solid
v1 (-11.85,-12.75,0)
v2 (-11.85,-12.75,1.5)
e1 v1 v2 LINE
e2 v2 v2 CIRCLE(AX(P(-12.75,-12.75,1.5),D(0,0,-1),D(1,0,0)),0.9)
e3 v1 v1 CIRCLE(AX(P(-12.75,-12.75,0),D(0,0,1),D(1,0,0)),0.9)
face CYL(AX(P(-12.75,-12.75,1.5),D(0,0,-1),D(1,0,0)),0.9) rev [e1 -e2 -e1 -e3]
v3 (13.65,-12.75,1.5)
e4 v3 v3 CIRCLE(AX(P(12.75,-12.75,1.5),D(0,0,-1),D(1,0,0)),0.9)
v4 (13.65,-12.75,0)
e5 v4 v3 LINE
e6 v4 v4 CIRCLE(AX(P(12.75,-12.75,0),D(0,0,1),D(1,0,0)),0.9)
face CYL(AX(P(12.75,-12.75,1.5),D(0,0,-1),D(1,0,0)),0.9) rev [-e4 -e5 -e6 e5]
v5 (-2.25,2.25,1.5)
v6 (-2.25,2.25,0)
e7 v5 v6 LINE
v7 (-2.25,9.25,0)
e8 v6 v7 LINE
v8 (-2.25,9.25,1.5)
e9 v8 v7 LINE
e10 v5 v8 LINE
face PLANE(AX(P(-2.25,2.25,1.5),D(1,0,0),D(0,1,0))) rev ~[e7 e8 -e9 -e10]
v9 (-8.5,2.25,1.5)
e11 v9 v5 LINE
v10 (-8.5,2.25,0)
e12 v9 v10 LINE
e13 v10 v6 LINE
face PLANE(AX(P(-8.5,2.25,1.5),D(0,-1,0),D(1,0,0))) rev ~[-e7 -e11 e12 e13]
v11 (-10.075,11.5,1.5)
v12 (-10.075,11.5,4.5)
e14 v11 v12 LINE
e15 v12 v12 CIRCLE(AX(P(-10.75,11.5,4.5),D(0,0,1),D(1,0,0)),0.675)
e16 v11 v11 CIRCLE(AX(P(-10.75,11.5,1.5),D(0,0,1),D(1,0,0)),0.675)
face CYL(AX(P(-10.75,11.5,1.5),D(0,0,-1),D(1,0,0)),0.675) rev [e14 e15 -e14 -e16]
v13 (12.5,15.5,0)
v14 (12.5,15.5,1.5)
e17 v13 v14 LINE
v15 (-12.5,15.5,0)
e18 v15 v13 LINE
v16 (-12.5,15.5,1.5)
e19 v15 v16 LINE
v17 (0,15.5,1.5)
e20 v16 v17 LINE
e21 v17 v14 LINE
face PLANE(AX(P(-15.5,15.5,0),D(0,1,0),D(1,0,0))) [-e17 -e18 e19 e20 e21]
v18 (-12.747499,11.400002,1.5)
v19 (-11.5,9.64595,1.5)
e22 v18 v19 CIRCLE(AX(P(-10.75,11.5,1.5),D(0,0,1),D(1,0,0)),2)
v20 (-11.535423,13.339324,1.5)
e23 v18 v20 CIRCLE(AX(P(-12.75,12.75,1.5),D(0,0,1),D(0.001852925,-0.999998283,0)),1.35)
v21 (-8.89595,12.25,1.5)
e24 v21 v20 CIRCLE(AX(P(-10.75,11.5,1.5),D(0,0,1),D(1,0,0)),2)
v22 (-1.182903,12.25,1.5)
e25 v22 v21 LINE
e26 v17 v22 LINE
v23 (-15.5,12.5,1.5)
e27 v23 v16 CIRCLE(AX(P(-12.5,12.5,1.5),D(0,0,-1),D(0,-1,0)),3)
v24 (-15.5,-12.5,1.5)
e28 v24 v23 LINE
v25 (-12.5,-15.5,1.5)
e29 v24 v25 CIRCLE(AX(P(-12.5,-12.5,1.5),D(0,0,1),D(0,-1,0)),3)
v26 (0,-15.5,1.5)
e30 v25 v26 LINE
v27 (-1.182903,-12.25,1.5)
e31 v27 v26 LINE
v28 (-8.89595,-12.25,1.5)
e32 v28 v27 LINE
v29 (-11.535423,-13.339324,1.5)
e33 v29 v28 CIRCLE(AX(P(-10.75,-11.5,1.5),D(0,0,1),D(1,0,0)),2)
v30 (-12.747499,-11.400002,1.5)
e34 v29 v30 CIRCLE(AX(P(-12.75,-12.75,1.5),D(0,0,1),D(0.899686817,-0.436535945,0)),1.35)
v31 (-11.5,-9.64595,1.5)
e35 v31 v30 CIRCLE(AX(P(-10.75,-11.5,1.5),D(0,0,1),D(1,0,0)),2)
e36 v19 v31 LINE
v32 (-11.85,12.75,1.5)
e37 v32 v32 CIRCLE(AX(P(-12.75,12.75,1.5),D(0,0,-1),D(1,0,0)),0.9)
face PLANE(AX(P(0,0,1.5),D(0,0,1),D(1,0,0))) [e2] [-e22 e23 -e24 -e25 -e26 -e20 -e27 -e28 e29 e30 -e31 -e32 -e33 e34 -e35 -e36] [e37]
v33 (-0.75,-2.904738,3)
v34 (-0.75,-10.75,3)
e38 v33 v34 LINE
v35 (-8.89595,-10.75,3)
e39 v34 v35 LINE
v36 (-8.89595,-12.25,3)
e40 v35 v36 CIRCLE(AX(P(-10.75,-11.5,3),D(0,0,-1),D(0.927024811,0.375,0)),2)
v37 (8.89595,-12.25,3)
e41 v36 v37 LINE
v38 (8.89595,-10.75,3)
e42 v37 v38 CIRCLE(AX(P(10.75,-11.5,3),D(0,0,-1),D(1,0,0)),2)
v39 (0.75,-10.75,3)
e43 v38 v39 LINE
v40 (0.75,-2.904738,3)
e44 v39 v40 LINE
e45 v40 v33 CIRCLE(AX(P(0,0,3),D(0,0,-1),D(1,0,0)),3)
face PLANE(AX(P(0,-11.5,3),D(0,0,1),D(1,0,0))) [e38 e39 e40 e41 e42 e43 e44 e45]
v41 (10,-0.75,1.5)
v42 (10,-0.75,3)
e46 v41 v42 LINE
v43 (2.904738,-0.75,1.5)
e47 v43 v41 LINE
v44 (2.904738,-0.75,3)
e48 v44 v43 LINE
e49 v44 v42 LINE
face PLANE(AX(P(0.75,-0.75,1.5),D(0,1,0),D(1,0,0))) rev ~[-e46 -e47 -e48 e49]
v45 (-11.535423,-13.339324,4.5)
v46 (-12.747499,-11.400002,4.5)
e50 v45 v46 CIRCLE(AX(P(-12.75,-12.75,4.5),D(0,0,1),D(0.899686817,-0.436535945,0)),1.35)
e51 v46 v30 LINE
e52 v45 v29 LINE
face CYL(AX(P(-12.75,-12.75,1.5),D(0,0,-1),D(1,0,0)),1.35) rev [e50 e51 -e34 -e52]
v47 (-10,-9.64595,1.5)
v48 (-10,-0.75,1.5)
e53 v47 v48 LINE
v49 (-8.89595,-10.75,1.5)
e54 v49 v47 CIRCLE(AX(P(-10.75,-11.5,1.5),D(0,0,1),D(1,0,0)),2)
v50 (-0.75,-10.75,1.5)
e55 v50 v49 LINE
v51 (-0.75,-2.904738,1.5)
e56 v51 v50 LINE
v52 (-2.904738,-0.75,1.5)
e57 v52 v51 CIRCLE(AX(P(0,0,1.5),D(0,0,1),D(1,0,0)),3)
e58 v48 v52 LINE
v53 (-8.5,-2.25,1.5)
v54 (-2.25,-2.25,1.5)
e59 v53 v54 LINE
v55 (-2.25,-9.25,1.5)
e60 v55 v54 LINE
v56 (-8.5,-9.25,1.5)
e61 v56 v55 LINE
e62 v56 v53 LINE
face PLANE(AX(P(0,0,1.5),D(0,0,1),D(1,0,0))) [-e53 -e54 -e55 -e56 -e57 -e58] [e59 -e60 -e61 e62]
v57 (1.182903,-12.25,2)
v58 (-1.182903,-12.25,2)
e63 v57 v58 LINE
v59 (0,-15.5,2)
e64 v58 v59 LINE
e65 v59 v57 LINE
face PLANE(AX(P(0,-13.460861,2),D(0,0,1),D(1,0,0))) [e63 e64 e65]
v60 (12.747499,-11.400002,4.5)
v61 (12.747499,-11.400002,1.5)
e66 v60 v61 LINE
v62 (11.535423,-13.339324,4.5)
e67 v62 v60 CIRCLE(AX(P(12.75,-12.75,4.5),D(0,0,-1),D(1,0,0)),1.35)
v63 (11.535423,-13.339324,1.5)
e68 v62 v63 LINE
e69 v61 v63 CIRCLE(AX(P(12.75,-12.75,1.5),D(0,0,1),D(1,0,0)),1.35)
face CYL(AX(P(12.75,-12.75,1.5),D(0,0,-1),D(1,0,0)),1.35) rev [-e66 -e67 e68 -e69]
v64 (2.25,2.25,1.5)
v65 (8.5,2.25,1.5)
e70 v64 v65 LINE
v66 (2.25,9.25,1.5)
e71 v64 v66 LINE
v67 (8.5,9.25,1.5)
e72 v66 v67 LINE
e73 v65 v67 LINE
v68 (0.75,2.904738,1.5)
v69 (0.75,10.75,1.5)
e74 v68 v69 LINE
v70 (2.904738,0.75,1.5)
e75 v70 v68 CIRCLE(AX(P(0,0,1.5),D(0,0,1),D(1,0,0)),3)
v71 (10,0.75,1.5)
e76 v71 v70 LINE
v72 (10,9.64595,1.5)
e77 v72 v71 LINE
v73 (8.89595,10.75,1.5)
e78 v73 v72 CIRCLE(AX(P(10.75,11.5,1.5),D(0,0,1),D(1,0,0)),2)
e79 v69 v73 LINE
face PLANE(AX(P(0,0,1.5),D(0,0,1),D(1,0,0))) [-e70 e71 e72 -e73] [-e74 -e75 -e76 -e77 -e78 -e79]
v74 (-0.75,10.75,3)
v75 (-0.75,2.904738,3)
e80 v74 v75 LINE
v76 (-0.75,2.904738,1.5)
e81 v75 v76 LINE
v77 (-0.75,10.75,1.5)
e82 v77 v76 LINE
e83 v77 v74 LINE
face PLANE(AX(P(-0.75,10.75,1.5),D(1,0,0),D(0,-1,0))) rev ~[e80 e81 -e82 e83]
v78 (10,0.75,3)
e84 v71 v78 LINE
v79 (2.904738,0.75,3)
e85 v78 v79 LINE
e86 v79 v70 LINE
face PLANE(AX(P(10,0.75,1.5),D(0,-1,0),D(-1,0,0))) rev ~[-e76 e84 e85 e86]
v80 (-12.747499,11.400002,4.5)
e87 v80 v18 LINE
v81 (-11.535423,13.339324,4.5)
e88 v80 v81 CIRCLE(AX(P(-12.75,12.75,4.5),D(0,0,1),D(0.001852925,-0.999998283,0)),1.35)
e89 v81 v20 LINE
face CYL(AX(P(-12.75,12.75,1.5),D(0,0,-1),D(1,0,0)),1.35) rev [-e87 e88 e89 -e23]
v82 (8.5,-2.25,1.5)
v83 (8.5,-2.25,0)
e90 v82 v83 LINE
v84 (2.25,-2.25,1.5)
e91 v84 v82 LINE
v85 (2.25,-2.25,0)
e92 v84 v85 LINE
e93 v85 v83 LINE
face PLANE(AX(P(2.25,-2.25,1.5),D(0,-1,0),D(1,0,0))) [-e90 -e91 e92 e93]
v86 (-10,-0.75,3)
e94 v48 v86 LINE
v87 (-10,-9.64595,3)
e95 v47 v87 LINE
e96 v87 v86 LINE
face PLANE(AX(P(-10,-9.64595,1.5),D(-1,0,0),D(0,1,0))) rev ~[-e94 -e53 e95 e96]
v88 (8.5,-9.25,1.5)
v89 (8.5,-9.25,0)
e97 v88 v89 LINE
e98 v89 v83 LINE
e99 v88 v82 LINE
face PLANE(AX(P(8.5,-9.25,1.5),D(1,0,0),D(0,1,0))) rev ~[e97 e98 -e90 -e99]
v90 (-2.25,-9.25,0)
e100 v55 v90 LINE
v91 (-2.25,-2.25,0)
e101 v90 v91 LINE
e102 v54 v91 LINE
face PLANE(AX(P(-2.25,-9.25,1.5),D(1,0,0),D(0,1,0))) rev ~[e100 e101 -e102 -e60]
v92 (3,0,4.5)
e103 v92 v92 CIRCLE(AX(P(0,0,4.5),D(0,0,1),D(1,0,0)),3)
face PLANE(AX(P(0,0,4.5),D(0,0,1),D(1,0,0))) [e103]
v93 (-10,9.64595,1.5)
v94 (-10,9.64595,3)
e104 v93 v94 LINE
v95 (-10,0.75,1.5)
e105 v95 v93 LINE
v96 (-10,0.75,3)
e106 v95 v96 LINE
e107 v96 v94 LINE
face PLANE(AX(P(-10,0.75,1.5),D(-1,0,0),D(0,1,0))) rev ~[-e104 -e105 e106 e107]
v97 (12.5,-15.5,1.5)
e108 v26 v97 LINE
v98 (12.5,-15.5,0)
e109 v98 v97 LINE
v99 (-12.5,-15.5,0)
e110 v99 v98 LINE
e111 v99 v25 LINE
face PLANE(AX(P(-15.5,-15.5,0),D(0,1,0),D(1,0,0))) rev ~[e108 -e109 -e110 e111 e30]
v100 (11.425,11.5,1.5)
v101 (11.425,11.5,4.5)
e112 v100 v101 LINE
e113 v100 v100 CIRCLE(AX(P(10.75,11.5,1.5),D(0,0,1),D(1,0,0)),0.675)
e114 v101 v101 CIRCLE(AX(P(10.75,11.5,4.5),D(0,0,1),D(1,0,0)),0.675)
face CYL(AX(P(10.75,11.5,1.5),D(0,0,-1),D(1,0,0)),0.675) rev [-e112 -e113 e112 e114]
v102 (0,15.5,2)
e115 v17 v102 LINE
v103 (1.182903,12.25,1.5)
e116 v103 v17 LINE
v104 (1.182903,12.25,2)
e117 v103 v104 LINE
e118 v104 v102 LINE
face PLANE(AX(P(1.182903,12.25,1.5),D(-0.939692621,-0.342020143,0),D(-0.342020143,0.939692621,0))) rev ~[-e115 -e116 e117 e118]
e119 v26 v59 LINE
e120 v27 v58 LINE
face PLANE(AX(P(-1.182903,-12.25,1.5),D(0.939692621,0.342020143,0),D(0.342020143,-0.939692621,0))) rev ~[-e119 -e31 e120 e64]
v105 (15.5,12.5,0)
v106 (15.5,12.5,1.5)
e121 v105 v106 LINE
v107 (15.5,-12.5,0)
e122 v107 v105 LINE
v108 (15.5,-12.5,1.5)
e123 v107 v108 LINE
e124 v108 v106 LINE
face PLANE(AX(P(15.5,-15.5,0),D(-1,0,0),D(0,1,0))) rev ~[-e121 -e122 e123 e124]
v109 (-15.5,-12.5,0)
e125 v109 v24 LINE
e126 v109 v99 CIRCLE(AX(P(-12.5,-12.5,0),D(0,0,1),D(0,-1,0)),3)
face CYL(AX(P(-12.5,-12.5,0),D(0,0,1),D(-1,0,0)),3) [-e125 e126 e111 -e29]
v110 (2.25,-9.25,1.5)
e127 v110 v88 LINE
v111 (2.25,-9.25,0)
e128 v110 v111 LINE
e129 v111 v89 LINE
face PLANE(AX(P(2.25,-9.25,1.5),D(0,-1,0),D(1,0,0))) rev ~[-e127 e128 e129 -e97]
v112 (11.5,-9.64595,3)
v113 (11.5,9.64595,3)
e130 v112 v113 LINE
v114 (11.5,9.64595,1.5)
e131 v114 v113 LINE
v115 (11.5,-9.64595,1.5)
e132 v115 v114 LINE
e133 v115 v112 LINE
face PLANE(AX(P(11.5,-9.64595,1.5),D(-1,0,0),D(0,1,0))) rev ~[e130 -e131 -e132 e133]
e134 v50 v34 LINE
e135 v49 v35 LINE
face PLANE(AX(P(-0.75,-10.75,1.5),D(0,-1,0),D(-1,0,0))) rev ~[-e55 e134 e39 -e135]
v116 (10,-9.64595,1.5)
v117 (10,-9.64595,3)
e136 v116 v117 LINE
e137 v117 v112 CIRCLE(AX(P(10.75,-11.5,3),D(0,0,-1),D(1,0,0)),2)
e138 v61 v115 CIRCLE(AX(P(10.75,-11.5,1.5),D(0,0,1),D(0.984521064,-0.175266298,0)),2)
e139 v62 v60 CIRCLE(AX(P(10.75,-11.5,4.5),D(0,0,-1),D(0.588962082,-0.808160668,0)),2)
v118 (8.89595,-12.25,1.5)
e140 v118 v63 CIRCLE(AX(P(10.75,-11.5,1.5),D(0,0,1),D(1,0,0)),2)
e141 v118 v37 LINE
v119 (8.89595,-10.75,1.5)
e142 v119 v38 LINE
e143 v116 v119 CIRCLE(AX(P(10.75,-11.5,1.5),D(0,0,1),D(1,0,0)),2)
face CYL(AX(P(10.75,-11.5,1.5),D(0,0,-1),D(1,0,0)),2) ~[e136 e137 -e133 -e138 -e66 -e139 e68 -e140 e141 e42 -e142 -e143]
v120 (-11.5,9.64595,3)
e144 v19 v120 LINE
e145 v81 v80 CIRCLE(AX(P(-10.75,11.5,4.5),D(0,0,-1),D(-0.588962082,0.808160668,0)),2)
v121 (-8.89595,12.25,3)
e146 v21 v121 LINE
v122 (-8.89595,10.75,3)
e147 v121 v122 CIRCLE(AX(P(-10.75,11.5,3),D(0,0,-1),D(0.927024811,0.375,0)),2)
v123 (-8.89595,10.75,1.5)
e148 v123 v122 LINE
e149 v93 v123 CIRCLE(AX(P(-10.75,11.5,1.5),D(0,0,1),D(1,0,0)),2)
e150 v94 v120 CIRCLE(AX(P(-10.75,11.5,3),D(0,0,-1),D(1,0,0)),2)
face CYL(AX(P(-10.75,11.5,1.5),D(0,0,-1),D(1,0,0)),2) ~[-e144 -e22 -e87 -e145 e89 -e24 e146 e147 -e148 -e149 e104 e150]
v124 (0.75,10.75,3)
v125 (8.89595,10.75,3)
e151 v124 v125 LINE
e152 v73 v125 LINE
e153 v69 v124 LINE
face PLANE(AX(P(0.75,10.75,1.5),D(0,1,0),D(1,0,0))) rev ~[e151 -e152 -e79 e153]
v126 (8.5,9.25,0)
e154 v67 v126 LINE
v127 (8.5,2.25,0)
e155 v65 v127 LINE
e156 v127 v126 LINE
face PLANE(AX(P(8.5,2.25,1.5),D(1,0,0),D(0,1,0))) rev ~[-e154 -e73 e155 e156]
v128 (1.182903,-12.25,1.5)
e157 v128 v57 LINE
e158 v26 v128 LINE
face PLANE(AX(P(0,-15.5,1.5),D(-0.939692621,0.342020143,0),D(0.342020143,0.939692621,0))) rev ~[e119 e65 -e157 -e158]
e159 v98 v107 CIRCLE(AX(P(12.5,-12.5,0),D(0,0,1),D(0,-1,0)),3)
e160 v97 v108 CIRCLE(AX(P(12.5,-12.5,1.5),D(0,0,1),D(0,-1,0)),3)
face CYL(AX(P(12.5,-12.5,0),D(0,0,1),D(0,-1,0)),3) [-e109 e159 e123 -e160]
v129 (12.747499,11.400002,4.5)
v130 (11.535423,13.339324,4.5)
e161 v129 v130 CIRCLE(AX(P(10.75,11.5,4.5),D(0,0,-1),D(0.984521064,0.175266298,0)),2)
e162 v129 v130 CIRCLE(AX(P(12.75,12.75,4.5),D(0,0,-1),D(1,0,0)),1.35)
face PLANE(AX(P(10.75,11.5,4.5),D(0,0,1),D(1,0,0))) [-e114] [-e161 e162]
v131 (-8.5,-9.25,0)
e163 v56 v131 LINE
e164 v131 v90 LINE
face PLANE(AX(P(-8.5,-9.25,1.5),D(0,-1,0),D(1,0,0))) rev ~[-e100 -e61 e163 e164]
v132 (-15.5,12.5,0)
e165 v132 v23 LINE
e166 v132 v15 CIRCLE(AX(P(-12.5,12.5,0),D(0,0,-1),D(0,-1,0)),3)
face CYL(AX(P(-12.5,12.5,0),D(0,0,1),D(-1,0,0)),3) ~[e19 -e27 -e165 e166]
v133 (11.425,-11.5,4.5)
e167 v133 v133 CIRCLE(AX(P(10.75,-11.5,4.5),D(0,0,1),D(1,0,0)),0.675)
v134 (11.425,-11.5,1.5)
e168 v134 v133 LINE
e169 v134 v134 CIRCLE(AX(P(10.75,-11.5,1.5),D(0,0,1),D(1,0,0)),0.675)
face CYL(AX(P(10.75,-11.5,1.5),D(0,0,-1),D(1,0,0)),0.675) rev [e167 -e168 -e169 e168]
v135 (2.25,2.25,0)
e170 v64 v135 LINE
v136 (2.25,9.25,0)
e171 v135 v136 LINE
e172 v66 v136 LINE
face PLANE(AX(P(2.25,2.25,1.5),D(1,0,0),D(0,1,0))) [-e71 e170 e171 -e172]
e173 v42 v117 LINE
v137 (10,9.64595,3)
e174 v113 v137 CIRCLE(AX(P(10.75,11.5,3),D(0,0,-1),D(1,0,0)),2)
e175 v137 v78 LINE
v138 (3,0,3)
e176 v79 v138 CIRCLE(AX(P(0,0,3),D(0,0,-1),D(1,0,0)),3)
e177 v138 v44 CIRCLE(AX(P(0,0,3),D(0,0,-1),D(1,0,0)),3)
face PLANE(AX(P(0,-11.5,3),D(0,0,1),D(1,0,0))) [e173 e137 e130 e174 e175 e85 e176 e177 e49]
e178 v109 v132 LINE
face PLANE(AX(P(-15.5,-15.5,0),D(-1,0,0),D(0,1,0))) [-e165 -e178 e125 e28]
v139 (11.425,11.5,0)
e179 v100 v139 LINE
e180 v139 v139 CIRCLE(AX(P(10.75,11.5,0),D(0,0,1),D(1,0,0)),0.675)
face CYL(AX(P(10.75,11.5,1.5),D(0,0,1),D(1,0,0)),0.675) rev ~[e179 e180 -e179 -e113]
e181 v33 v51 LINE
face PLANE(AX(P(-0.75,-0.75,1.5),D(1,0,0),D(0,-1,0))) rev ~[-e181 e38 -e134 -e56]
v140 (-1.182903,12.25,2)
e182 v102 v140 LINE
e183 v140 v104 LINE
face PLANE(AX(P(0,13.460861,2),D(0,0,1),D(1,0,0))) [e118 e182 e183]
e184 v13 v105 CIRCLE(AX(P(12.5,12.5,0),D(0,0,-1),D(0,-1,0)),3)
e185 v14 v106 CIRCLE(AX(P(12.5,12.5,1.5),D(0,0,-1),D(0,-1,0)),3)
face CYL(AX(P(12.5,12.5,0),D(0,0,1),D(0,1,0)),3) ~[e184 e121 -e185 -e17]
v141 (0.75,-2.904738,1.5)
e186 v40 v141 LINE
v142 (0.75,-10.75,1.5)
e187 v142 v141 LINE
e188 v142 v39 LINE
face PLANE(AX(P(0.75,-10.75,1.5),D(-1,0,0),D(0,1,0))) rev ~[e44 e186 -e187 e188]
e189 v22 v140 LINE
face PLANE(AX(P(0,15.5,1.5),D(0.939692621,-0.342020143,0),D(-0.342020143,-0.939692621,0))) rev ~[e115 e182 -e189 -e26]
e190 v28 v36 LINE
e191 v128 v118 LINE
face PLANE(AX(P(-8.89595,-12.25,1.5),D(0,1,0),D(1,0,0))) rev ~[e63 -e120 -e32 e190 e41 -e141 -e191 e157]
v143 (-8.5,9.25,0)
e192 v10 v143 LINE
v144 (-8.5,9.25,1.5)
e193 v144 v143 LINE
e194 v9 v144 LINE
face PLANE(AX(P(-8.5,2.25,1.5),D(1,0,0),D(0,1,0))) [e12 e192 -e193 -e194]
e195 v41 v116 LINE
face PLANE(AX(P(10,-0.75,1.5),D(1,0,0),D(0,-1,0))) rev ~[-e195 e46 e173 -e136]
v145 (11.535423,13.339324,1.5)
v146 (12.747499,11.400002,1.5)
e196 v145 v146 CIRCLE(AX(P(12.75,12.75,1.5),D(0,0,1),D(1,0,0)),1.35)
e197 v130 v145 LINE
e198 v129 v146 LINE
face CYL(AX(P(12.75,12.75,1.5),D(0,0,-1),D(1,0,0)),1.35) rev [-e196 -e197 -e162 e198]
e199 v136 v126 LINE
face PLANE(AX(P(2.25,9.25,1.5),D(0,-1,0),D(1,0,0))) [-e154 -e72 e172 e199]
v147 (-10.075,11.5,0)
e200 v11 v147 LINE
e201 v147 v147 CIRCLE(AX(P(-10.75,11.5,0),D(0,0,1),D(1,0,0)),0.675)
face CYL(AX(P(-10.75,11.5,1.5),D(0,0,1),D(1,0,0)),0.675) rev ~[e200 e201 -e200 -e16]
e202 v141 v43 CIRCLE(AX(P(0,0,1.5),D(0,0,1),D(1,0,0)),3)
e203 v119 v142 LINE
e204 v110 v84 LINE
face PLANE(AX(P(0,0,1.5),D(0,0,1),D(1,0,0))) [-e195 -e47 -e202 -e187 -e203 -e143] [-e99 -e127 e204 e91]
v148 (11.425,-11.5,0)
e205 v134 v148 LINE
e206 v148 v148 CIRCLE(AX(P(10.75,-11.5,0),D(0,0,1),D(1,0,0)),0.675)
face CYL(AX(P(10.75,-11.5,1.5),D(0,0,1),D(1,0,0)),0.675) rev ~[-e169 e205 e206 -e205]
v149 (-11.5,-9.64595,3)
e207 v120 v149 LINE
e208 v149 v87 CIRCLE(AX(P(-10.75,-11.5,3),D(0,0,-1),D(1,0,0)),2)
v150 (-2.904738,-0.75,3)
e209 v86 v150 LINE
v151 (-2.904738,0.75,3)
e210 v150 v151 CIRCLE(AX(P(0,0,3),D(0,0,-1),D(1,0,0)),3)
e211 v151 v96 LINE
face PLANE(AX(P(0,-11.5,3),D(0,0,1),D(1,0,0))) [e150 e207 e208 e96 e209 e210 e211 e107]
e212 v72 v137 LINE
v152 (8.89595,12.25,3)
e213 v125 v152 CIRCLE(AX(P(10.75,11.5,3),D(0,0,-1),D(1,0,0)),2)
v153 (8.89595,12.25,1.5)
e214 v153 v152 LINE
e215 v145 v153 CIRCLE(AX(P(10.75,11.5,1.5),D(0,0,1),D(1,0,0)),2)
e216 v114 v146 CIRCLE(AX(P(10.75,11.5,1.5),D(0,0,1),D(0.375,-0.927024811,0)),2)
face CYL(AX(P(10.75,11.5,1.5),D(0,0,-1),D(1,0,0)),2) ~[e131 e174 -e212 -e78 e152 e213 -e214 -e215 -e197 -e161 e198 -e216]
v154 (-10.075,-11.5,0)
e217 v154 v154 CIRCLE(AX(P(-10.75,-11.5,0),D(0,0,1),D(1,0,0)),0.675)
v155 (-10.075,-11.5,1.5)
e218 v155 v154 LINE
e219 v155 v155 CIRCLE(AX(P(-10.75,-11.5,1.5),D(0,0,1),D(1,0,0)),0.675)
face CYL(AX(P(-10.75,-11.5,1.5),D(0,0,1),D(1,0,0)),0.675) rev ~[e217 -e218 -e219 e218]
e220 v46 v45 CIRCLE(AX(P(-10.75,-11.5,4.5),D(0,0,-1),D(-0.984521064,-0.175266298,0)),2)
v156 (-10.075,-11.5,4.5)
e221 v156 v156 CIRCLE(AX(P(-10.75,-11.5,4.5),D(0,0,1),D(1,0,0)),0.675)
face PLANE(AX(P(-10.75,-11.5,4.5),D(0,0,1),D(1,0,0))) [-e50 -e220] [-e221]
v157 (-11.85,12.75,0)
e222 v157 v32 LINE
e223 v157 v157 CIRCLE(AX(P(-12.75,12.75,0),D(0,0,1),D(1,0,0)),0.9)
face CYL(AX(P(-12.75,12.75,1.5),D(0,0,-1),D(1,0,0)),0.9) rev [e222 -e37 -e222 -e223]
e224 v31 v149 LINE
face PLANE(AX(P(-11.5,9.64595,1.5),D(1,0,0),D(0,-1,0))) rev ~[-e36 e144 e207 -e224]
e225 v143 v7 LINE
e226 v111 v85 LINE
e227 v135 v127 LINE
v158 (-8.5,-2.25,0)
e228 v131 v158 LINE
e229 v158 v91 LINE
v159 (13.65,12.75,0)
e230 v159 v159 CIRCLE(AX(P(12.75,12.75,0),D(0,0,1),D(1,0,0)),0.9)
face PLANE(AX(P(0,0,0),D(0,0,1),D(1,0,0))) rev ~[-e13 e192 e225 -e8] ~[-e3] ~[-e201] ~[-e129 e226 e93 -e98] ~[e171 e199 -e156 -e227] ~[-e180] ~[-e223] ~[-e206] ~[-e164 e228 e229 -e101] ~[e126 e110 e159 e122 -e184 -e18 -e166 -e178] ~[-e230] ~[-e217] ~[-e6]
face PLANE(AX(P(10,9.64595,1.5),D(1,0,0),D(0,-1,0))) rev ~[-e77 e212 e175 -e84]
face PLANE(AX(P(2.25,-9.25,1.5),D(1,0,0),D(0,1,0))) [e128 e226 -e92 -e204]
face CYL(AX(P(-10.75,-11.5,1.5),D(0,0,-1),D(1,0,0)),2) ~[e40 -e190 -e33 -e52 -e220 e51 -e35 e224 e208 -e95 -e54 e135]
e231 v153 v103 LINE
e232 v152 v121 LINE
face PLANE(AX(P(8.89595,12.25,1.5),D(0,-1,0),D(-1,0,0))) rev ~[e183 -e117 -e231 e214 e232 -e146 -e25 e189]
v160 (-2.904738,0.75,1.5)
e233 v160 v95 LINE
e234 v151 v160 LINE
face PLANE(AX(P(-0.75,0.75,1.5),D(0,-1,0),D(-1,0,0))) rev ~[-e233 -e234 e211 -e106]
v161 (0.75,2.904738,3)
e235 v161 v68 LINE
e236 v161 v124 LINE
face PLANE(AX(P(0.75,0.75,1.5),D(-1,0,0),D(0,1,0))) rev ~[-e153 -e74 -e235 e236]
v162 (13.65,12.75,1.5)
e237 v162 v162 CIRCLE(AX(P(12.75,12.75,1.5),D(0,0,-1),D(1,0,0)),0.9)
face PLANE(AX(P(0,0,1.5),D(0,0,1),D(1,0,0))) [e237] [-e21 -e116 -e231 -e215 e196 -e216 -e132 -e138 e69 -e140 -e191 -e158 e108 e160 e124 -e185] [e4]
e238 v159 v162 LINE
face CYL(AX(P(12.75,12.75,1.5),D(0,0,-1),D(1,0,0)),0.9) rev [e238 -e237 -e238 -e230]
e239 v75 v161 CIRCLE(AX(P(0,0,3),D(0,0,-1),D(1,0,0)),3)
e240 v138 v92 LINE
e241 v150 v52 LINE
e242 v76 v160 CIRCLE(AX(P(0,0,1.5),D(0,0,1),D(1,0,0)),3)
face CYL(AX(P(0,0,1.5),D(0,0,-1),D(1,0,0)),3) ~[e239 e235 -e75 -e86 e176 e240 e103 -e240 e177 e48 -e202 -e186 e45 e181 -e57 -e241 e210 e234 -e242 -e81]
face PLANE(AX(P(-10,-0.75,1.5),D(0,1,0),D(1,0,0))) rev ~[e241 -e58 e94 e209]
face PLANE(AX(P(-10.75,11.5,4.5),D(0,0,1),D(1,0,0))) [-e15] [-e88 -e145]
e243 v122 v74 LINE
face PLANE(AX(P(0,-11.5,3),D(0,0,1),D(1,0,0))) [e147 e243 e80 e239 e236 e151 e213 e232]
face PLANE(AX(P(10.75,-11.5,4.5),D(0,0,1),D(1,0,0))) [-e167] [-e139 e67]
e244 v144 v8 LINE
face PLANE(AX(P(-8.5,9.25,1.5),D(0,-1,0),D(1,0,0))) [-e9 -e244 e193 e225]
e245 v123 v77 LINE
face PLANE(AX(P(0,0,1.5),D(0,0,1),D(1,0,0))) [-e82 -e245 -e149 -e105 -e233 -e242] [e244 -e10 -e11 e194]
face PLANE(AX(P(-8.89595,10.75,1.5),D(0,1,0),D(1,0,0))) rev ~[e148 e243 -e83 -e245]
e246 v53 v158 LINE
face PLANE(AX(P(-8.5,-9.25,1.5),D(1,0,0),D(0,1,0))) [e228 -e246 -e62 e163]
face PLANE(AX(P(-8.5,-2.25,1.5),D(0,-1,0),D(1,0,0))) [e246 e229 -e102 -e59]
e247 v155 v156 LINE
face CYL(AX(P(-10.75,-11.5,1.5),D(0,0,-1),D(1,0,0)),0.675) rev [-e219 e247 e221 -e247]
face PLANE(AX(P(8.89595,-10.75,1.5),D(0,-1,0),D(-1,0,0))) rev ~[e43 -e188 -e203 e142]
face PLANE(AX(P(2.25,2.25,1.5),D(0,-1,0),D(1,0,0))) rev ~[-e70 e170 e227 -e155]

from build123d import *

# Parameters (mm, degrees)
F0_W      = 31
F0_H      = 31
F0_R      = 0.9
F1_DEPTH  = 1.5
F2_R      = 2
F2_R_2    = 0.675
F3_DEPTH  = 3
F4_R      = 3
F6_DEPTH  = 1.5
F7_W      = 6.25
F7_H      = 7
F8_DEPTH  = 25
F9_R      = 3
F10_DEPTH = 3
F11_DEPTH = 25
F12_R     = 1.35
F13_DEPTH = 25
F14_DEPTH = 25
F16_DEPTH = 0.5


with BuildPart() as f1:
    # F0 (on Top) → F1 (new body)
    with BuildSketch(Plane.XY):
        Rectangle(F0_W, F0_H)
        with Locations((-12.75, -12.75)):
            Circle(F0_R, mode=Mode.SUBTRACT)
        with Locations((12.75, -12.75)):
            Circle(F0_R, mode=Mode.SUBTRACT)
        with Locations((-12.75, 12.75)):
            Circle(F0_R, mode=Mode.SUBTRACT)
        with Locations((12.75, 12.75)):
            Circle(F0_R, mode=Mode.SUBTRACT)
    extrude(amount=F1_DEPTH)

    # F2 (on face) → F3 (join)
    with BuildSketch(Plane.XY.offset(1.5)):
        with Locations((-10.75, 11.5)):
            Circle(F2_R)
        with Locations((-10.75, 11.5)):
            Circle(F2_R_2, mode=Mode.SUBTRACT)
        with Locations((10.75, 11.5)):
            Circle(F2_R)
        with Locations((10.75, 11.5)):
            Circle(F2_R_2, mode=Mode.SUBTRACT)
        with Locations((10.75, -11.5)):
            Circle(F2_R)
        with Locations((10.75, -11.5)):
            Circle(F2_R_2, mode=Mode.SUBTRACT)
        with Locations((-10.75, -11.5)):
            Circle(F2_R)
        with Locations((-10.75, -11.5)):
            Circle(F2_R_2, mode=Mode.SUBTRACT)
    extrude(amount=F3_DEPTH)

    # F4
    f4_edges = [f1.edges().sort_by_distance(p)[0] for p in [
        (-15.5, 15.5, 0.75),
        (15.5, 15.5, 0.75),
        (15.5, -15.5, 0.75),
        (-15.5, -15.5, 0.75),
    ]]
    fillet(f4_edges, radius=F4_R)

    # F5 (on face) → F6 (join)
    with BuildSketch(Plane.XY.offset(1.5)):
        Polygon((-0.75, -10.75), (-8.8959503782, -10.75), (-8.8959503782, -12.25), (8.8959503782, -12.25), (8.8959503782, -10.75), (0.75, -10.75), align=None)
        Polygon((-0.75, -0.75), (-0.75, -10.75), (0.75, -10.75), (0.75, -0.75), (10, -0.75), (10, 0.75), (0.75, 0.75), (0.75, 10.75), (-0.75, 10.75), (-0.75, 0.75), (-10, 0.75), (-10, -0.75), align=None)
        Polygon((-10, -9.6459503782), (-10, -0.75), (-10, 0.75), (-10, 9.6459503782), (-11.5, 9.6459503782), (-11.5, -9.6459503782), align=None)
        Polygon((10, 0.75), (10, -0.75), (10, -9.6459503782), (11.5, -9.6459503782), (11.5, 9.6459503782), (10, 9.6459503782), align=None)
        Polygon((-8.8959503782, 10.75), (-0.75, 10.75), (0.75, 10.75), (8.8959503782, 10.75), (8.8959503782, 12.25), (-8.8959503782, 12.25), align=None)
    extrude(amount=F6_DEPTH)

    # F7 (on face) → F8 (cut)
    with BuildSketch(Plane.XY.offset(1.5)):
        with Locations((-5.375, 5.75)):
            Rectangle(F7_W, F7_H)
        with Locations((5.375, 5.75)):
            Rectangle(F7_W, F7_H)
        with Locations((5.375, -5.75)):
            Rectangle(F7_W, F7_H)
        with Locations((-5.375, -5.75)):
            Rectangle(F7_W, F7_H)
    extrude(amount=-F8_DEPTH, mode=Mode.SUBTRACT)

    # F9 (on face) → F10 (join, through all)
    with BuildSketch(Plane.XY.offset(1.5)):
        Circle(F9_R)
    extrude(amount=F10_DEPTH)

    # F11 (cut): faces of the model
    f11_faces = [f1.faces().sort_by_distance(p)[0] for p in [
        (-12.2340646667, -12.4275404167, 1.5),
        (-12.2340646667, 12.4275404167, 1.5),
        (12.2340646667, 12.4275404167, 1.5),
        (12.2340646667, -12.4275404167, 1.5),
    ]]
    extrude(f11_faces, amount=-F11_DEPTH, mode=Mode.SUBTRACT)

    # F12 (on face) → F13 (cut)
    with BuildSketch(Plane.XY.offset(1.5)):
        with Locations((-12.75, -12.75)):
            Circle(F12_R)
        with Locations((12.75, -12.75)):
            Circle(F12_R)
        with Locations((-12.75, 12.75)):
            Circle(F12_R)
        with Locations((12.75, 12.75)):
            Circle(F12_R)
    extrude(amount=F13_DEPTH, mode=Mode.SUBTRACT)

    # F14 (cut): faces of the model
    f14_faces = [f1.faces().sort_by_distance(p)[0] for p in [
        (10.75, 11.5, 1.5),
        (-10.75, 11.5, 1.5),
        (-10.75, -11.5, 1.5),
        (10.75, -11.5, 1.5),
    ]]
    extrude(f14_faces, amount=-F14_DEPTH, mode=Mode.SUBTRACT)

    # F15 (on face) → F16 (join)
    with BuildSketch(Plane.XY.offset(1.5)):
        Polygon((1.1829032614, 12.25), (0, 15.5), (-1.1829032614, 12.25), (0, 12.25), align=None)
        Polygon((-1.1829032614, -12.25), (0, -15.5), (1.1829032614, -12.25), (0, -12.25), align=None)
    extrude(amount=F16_DEPTH)


solid = f1.part
